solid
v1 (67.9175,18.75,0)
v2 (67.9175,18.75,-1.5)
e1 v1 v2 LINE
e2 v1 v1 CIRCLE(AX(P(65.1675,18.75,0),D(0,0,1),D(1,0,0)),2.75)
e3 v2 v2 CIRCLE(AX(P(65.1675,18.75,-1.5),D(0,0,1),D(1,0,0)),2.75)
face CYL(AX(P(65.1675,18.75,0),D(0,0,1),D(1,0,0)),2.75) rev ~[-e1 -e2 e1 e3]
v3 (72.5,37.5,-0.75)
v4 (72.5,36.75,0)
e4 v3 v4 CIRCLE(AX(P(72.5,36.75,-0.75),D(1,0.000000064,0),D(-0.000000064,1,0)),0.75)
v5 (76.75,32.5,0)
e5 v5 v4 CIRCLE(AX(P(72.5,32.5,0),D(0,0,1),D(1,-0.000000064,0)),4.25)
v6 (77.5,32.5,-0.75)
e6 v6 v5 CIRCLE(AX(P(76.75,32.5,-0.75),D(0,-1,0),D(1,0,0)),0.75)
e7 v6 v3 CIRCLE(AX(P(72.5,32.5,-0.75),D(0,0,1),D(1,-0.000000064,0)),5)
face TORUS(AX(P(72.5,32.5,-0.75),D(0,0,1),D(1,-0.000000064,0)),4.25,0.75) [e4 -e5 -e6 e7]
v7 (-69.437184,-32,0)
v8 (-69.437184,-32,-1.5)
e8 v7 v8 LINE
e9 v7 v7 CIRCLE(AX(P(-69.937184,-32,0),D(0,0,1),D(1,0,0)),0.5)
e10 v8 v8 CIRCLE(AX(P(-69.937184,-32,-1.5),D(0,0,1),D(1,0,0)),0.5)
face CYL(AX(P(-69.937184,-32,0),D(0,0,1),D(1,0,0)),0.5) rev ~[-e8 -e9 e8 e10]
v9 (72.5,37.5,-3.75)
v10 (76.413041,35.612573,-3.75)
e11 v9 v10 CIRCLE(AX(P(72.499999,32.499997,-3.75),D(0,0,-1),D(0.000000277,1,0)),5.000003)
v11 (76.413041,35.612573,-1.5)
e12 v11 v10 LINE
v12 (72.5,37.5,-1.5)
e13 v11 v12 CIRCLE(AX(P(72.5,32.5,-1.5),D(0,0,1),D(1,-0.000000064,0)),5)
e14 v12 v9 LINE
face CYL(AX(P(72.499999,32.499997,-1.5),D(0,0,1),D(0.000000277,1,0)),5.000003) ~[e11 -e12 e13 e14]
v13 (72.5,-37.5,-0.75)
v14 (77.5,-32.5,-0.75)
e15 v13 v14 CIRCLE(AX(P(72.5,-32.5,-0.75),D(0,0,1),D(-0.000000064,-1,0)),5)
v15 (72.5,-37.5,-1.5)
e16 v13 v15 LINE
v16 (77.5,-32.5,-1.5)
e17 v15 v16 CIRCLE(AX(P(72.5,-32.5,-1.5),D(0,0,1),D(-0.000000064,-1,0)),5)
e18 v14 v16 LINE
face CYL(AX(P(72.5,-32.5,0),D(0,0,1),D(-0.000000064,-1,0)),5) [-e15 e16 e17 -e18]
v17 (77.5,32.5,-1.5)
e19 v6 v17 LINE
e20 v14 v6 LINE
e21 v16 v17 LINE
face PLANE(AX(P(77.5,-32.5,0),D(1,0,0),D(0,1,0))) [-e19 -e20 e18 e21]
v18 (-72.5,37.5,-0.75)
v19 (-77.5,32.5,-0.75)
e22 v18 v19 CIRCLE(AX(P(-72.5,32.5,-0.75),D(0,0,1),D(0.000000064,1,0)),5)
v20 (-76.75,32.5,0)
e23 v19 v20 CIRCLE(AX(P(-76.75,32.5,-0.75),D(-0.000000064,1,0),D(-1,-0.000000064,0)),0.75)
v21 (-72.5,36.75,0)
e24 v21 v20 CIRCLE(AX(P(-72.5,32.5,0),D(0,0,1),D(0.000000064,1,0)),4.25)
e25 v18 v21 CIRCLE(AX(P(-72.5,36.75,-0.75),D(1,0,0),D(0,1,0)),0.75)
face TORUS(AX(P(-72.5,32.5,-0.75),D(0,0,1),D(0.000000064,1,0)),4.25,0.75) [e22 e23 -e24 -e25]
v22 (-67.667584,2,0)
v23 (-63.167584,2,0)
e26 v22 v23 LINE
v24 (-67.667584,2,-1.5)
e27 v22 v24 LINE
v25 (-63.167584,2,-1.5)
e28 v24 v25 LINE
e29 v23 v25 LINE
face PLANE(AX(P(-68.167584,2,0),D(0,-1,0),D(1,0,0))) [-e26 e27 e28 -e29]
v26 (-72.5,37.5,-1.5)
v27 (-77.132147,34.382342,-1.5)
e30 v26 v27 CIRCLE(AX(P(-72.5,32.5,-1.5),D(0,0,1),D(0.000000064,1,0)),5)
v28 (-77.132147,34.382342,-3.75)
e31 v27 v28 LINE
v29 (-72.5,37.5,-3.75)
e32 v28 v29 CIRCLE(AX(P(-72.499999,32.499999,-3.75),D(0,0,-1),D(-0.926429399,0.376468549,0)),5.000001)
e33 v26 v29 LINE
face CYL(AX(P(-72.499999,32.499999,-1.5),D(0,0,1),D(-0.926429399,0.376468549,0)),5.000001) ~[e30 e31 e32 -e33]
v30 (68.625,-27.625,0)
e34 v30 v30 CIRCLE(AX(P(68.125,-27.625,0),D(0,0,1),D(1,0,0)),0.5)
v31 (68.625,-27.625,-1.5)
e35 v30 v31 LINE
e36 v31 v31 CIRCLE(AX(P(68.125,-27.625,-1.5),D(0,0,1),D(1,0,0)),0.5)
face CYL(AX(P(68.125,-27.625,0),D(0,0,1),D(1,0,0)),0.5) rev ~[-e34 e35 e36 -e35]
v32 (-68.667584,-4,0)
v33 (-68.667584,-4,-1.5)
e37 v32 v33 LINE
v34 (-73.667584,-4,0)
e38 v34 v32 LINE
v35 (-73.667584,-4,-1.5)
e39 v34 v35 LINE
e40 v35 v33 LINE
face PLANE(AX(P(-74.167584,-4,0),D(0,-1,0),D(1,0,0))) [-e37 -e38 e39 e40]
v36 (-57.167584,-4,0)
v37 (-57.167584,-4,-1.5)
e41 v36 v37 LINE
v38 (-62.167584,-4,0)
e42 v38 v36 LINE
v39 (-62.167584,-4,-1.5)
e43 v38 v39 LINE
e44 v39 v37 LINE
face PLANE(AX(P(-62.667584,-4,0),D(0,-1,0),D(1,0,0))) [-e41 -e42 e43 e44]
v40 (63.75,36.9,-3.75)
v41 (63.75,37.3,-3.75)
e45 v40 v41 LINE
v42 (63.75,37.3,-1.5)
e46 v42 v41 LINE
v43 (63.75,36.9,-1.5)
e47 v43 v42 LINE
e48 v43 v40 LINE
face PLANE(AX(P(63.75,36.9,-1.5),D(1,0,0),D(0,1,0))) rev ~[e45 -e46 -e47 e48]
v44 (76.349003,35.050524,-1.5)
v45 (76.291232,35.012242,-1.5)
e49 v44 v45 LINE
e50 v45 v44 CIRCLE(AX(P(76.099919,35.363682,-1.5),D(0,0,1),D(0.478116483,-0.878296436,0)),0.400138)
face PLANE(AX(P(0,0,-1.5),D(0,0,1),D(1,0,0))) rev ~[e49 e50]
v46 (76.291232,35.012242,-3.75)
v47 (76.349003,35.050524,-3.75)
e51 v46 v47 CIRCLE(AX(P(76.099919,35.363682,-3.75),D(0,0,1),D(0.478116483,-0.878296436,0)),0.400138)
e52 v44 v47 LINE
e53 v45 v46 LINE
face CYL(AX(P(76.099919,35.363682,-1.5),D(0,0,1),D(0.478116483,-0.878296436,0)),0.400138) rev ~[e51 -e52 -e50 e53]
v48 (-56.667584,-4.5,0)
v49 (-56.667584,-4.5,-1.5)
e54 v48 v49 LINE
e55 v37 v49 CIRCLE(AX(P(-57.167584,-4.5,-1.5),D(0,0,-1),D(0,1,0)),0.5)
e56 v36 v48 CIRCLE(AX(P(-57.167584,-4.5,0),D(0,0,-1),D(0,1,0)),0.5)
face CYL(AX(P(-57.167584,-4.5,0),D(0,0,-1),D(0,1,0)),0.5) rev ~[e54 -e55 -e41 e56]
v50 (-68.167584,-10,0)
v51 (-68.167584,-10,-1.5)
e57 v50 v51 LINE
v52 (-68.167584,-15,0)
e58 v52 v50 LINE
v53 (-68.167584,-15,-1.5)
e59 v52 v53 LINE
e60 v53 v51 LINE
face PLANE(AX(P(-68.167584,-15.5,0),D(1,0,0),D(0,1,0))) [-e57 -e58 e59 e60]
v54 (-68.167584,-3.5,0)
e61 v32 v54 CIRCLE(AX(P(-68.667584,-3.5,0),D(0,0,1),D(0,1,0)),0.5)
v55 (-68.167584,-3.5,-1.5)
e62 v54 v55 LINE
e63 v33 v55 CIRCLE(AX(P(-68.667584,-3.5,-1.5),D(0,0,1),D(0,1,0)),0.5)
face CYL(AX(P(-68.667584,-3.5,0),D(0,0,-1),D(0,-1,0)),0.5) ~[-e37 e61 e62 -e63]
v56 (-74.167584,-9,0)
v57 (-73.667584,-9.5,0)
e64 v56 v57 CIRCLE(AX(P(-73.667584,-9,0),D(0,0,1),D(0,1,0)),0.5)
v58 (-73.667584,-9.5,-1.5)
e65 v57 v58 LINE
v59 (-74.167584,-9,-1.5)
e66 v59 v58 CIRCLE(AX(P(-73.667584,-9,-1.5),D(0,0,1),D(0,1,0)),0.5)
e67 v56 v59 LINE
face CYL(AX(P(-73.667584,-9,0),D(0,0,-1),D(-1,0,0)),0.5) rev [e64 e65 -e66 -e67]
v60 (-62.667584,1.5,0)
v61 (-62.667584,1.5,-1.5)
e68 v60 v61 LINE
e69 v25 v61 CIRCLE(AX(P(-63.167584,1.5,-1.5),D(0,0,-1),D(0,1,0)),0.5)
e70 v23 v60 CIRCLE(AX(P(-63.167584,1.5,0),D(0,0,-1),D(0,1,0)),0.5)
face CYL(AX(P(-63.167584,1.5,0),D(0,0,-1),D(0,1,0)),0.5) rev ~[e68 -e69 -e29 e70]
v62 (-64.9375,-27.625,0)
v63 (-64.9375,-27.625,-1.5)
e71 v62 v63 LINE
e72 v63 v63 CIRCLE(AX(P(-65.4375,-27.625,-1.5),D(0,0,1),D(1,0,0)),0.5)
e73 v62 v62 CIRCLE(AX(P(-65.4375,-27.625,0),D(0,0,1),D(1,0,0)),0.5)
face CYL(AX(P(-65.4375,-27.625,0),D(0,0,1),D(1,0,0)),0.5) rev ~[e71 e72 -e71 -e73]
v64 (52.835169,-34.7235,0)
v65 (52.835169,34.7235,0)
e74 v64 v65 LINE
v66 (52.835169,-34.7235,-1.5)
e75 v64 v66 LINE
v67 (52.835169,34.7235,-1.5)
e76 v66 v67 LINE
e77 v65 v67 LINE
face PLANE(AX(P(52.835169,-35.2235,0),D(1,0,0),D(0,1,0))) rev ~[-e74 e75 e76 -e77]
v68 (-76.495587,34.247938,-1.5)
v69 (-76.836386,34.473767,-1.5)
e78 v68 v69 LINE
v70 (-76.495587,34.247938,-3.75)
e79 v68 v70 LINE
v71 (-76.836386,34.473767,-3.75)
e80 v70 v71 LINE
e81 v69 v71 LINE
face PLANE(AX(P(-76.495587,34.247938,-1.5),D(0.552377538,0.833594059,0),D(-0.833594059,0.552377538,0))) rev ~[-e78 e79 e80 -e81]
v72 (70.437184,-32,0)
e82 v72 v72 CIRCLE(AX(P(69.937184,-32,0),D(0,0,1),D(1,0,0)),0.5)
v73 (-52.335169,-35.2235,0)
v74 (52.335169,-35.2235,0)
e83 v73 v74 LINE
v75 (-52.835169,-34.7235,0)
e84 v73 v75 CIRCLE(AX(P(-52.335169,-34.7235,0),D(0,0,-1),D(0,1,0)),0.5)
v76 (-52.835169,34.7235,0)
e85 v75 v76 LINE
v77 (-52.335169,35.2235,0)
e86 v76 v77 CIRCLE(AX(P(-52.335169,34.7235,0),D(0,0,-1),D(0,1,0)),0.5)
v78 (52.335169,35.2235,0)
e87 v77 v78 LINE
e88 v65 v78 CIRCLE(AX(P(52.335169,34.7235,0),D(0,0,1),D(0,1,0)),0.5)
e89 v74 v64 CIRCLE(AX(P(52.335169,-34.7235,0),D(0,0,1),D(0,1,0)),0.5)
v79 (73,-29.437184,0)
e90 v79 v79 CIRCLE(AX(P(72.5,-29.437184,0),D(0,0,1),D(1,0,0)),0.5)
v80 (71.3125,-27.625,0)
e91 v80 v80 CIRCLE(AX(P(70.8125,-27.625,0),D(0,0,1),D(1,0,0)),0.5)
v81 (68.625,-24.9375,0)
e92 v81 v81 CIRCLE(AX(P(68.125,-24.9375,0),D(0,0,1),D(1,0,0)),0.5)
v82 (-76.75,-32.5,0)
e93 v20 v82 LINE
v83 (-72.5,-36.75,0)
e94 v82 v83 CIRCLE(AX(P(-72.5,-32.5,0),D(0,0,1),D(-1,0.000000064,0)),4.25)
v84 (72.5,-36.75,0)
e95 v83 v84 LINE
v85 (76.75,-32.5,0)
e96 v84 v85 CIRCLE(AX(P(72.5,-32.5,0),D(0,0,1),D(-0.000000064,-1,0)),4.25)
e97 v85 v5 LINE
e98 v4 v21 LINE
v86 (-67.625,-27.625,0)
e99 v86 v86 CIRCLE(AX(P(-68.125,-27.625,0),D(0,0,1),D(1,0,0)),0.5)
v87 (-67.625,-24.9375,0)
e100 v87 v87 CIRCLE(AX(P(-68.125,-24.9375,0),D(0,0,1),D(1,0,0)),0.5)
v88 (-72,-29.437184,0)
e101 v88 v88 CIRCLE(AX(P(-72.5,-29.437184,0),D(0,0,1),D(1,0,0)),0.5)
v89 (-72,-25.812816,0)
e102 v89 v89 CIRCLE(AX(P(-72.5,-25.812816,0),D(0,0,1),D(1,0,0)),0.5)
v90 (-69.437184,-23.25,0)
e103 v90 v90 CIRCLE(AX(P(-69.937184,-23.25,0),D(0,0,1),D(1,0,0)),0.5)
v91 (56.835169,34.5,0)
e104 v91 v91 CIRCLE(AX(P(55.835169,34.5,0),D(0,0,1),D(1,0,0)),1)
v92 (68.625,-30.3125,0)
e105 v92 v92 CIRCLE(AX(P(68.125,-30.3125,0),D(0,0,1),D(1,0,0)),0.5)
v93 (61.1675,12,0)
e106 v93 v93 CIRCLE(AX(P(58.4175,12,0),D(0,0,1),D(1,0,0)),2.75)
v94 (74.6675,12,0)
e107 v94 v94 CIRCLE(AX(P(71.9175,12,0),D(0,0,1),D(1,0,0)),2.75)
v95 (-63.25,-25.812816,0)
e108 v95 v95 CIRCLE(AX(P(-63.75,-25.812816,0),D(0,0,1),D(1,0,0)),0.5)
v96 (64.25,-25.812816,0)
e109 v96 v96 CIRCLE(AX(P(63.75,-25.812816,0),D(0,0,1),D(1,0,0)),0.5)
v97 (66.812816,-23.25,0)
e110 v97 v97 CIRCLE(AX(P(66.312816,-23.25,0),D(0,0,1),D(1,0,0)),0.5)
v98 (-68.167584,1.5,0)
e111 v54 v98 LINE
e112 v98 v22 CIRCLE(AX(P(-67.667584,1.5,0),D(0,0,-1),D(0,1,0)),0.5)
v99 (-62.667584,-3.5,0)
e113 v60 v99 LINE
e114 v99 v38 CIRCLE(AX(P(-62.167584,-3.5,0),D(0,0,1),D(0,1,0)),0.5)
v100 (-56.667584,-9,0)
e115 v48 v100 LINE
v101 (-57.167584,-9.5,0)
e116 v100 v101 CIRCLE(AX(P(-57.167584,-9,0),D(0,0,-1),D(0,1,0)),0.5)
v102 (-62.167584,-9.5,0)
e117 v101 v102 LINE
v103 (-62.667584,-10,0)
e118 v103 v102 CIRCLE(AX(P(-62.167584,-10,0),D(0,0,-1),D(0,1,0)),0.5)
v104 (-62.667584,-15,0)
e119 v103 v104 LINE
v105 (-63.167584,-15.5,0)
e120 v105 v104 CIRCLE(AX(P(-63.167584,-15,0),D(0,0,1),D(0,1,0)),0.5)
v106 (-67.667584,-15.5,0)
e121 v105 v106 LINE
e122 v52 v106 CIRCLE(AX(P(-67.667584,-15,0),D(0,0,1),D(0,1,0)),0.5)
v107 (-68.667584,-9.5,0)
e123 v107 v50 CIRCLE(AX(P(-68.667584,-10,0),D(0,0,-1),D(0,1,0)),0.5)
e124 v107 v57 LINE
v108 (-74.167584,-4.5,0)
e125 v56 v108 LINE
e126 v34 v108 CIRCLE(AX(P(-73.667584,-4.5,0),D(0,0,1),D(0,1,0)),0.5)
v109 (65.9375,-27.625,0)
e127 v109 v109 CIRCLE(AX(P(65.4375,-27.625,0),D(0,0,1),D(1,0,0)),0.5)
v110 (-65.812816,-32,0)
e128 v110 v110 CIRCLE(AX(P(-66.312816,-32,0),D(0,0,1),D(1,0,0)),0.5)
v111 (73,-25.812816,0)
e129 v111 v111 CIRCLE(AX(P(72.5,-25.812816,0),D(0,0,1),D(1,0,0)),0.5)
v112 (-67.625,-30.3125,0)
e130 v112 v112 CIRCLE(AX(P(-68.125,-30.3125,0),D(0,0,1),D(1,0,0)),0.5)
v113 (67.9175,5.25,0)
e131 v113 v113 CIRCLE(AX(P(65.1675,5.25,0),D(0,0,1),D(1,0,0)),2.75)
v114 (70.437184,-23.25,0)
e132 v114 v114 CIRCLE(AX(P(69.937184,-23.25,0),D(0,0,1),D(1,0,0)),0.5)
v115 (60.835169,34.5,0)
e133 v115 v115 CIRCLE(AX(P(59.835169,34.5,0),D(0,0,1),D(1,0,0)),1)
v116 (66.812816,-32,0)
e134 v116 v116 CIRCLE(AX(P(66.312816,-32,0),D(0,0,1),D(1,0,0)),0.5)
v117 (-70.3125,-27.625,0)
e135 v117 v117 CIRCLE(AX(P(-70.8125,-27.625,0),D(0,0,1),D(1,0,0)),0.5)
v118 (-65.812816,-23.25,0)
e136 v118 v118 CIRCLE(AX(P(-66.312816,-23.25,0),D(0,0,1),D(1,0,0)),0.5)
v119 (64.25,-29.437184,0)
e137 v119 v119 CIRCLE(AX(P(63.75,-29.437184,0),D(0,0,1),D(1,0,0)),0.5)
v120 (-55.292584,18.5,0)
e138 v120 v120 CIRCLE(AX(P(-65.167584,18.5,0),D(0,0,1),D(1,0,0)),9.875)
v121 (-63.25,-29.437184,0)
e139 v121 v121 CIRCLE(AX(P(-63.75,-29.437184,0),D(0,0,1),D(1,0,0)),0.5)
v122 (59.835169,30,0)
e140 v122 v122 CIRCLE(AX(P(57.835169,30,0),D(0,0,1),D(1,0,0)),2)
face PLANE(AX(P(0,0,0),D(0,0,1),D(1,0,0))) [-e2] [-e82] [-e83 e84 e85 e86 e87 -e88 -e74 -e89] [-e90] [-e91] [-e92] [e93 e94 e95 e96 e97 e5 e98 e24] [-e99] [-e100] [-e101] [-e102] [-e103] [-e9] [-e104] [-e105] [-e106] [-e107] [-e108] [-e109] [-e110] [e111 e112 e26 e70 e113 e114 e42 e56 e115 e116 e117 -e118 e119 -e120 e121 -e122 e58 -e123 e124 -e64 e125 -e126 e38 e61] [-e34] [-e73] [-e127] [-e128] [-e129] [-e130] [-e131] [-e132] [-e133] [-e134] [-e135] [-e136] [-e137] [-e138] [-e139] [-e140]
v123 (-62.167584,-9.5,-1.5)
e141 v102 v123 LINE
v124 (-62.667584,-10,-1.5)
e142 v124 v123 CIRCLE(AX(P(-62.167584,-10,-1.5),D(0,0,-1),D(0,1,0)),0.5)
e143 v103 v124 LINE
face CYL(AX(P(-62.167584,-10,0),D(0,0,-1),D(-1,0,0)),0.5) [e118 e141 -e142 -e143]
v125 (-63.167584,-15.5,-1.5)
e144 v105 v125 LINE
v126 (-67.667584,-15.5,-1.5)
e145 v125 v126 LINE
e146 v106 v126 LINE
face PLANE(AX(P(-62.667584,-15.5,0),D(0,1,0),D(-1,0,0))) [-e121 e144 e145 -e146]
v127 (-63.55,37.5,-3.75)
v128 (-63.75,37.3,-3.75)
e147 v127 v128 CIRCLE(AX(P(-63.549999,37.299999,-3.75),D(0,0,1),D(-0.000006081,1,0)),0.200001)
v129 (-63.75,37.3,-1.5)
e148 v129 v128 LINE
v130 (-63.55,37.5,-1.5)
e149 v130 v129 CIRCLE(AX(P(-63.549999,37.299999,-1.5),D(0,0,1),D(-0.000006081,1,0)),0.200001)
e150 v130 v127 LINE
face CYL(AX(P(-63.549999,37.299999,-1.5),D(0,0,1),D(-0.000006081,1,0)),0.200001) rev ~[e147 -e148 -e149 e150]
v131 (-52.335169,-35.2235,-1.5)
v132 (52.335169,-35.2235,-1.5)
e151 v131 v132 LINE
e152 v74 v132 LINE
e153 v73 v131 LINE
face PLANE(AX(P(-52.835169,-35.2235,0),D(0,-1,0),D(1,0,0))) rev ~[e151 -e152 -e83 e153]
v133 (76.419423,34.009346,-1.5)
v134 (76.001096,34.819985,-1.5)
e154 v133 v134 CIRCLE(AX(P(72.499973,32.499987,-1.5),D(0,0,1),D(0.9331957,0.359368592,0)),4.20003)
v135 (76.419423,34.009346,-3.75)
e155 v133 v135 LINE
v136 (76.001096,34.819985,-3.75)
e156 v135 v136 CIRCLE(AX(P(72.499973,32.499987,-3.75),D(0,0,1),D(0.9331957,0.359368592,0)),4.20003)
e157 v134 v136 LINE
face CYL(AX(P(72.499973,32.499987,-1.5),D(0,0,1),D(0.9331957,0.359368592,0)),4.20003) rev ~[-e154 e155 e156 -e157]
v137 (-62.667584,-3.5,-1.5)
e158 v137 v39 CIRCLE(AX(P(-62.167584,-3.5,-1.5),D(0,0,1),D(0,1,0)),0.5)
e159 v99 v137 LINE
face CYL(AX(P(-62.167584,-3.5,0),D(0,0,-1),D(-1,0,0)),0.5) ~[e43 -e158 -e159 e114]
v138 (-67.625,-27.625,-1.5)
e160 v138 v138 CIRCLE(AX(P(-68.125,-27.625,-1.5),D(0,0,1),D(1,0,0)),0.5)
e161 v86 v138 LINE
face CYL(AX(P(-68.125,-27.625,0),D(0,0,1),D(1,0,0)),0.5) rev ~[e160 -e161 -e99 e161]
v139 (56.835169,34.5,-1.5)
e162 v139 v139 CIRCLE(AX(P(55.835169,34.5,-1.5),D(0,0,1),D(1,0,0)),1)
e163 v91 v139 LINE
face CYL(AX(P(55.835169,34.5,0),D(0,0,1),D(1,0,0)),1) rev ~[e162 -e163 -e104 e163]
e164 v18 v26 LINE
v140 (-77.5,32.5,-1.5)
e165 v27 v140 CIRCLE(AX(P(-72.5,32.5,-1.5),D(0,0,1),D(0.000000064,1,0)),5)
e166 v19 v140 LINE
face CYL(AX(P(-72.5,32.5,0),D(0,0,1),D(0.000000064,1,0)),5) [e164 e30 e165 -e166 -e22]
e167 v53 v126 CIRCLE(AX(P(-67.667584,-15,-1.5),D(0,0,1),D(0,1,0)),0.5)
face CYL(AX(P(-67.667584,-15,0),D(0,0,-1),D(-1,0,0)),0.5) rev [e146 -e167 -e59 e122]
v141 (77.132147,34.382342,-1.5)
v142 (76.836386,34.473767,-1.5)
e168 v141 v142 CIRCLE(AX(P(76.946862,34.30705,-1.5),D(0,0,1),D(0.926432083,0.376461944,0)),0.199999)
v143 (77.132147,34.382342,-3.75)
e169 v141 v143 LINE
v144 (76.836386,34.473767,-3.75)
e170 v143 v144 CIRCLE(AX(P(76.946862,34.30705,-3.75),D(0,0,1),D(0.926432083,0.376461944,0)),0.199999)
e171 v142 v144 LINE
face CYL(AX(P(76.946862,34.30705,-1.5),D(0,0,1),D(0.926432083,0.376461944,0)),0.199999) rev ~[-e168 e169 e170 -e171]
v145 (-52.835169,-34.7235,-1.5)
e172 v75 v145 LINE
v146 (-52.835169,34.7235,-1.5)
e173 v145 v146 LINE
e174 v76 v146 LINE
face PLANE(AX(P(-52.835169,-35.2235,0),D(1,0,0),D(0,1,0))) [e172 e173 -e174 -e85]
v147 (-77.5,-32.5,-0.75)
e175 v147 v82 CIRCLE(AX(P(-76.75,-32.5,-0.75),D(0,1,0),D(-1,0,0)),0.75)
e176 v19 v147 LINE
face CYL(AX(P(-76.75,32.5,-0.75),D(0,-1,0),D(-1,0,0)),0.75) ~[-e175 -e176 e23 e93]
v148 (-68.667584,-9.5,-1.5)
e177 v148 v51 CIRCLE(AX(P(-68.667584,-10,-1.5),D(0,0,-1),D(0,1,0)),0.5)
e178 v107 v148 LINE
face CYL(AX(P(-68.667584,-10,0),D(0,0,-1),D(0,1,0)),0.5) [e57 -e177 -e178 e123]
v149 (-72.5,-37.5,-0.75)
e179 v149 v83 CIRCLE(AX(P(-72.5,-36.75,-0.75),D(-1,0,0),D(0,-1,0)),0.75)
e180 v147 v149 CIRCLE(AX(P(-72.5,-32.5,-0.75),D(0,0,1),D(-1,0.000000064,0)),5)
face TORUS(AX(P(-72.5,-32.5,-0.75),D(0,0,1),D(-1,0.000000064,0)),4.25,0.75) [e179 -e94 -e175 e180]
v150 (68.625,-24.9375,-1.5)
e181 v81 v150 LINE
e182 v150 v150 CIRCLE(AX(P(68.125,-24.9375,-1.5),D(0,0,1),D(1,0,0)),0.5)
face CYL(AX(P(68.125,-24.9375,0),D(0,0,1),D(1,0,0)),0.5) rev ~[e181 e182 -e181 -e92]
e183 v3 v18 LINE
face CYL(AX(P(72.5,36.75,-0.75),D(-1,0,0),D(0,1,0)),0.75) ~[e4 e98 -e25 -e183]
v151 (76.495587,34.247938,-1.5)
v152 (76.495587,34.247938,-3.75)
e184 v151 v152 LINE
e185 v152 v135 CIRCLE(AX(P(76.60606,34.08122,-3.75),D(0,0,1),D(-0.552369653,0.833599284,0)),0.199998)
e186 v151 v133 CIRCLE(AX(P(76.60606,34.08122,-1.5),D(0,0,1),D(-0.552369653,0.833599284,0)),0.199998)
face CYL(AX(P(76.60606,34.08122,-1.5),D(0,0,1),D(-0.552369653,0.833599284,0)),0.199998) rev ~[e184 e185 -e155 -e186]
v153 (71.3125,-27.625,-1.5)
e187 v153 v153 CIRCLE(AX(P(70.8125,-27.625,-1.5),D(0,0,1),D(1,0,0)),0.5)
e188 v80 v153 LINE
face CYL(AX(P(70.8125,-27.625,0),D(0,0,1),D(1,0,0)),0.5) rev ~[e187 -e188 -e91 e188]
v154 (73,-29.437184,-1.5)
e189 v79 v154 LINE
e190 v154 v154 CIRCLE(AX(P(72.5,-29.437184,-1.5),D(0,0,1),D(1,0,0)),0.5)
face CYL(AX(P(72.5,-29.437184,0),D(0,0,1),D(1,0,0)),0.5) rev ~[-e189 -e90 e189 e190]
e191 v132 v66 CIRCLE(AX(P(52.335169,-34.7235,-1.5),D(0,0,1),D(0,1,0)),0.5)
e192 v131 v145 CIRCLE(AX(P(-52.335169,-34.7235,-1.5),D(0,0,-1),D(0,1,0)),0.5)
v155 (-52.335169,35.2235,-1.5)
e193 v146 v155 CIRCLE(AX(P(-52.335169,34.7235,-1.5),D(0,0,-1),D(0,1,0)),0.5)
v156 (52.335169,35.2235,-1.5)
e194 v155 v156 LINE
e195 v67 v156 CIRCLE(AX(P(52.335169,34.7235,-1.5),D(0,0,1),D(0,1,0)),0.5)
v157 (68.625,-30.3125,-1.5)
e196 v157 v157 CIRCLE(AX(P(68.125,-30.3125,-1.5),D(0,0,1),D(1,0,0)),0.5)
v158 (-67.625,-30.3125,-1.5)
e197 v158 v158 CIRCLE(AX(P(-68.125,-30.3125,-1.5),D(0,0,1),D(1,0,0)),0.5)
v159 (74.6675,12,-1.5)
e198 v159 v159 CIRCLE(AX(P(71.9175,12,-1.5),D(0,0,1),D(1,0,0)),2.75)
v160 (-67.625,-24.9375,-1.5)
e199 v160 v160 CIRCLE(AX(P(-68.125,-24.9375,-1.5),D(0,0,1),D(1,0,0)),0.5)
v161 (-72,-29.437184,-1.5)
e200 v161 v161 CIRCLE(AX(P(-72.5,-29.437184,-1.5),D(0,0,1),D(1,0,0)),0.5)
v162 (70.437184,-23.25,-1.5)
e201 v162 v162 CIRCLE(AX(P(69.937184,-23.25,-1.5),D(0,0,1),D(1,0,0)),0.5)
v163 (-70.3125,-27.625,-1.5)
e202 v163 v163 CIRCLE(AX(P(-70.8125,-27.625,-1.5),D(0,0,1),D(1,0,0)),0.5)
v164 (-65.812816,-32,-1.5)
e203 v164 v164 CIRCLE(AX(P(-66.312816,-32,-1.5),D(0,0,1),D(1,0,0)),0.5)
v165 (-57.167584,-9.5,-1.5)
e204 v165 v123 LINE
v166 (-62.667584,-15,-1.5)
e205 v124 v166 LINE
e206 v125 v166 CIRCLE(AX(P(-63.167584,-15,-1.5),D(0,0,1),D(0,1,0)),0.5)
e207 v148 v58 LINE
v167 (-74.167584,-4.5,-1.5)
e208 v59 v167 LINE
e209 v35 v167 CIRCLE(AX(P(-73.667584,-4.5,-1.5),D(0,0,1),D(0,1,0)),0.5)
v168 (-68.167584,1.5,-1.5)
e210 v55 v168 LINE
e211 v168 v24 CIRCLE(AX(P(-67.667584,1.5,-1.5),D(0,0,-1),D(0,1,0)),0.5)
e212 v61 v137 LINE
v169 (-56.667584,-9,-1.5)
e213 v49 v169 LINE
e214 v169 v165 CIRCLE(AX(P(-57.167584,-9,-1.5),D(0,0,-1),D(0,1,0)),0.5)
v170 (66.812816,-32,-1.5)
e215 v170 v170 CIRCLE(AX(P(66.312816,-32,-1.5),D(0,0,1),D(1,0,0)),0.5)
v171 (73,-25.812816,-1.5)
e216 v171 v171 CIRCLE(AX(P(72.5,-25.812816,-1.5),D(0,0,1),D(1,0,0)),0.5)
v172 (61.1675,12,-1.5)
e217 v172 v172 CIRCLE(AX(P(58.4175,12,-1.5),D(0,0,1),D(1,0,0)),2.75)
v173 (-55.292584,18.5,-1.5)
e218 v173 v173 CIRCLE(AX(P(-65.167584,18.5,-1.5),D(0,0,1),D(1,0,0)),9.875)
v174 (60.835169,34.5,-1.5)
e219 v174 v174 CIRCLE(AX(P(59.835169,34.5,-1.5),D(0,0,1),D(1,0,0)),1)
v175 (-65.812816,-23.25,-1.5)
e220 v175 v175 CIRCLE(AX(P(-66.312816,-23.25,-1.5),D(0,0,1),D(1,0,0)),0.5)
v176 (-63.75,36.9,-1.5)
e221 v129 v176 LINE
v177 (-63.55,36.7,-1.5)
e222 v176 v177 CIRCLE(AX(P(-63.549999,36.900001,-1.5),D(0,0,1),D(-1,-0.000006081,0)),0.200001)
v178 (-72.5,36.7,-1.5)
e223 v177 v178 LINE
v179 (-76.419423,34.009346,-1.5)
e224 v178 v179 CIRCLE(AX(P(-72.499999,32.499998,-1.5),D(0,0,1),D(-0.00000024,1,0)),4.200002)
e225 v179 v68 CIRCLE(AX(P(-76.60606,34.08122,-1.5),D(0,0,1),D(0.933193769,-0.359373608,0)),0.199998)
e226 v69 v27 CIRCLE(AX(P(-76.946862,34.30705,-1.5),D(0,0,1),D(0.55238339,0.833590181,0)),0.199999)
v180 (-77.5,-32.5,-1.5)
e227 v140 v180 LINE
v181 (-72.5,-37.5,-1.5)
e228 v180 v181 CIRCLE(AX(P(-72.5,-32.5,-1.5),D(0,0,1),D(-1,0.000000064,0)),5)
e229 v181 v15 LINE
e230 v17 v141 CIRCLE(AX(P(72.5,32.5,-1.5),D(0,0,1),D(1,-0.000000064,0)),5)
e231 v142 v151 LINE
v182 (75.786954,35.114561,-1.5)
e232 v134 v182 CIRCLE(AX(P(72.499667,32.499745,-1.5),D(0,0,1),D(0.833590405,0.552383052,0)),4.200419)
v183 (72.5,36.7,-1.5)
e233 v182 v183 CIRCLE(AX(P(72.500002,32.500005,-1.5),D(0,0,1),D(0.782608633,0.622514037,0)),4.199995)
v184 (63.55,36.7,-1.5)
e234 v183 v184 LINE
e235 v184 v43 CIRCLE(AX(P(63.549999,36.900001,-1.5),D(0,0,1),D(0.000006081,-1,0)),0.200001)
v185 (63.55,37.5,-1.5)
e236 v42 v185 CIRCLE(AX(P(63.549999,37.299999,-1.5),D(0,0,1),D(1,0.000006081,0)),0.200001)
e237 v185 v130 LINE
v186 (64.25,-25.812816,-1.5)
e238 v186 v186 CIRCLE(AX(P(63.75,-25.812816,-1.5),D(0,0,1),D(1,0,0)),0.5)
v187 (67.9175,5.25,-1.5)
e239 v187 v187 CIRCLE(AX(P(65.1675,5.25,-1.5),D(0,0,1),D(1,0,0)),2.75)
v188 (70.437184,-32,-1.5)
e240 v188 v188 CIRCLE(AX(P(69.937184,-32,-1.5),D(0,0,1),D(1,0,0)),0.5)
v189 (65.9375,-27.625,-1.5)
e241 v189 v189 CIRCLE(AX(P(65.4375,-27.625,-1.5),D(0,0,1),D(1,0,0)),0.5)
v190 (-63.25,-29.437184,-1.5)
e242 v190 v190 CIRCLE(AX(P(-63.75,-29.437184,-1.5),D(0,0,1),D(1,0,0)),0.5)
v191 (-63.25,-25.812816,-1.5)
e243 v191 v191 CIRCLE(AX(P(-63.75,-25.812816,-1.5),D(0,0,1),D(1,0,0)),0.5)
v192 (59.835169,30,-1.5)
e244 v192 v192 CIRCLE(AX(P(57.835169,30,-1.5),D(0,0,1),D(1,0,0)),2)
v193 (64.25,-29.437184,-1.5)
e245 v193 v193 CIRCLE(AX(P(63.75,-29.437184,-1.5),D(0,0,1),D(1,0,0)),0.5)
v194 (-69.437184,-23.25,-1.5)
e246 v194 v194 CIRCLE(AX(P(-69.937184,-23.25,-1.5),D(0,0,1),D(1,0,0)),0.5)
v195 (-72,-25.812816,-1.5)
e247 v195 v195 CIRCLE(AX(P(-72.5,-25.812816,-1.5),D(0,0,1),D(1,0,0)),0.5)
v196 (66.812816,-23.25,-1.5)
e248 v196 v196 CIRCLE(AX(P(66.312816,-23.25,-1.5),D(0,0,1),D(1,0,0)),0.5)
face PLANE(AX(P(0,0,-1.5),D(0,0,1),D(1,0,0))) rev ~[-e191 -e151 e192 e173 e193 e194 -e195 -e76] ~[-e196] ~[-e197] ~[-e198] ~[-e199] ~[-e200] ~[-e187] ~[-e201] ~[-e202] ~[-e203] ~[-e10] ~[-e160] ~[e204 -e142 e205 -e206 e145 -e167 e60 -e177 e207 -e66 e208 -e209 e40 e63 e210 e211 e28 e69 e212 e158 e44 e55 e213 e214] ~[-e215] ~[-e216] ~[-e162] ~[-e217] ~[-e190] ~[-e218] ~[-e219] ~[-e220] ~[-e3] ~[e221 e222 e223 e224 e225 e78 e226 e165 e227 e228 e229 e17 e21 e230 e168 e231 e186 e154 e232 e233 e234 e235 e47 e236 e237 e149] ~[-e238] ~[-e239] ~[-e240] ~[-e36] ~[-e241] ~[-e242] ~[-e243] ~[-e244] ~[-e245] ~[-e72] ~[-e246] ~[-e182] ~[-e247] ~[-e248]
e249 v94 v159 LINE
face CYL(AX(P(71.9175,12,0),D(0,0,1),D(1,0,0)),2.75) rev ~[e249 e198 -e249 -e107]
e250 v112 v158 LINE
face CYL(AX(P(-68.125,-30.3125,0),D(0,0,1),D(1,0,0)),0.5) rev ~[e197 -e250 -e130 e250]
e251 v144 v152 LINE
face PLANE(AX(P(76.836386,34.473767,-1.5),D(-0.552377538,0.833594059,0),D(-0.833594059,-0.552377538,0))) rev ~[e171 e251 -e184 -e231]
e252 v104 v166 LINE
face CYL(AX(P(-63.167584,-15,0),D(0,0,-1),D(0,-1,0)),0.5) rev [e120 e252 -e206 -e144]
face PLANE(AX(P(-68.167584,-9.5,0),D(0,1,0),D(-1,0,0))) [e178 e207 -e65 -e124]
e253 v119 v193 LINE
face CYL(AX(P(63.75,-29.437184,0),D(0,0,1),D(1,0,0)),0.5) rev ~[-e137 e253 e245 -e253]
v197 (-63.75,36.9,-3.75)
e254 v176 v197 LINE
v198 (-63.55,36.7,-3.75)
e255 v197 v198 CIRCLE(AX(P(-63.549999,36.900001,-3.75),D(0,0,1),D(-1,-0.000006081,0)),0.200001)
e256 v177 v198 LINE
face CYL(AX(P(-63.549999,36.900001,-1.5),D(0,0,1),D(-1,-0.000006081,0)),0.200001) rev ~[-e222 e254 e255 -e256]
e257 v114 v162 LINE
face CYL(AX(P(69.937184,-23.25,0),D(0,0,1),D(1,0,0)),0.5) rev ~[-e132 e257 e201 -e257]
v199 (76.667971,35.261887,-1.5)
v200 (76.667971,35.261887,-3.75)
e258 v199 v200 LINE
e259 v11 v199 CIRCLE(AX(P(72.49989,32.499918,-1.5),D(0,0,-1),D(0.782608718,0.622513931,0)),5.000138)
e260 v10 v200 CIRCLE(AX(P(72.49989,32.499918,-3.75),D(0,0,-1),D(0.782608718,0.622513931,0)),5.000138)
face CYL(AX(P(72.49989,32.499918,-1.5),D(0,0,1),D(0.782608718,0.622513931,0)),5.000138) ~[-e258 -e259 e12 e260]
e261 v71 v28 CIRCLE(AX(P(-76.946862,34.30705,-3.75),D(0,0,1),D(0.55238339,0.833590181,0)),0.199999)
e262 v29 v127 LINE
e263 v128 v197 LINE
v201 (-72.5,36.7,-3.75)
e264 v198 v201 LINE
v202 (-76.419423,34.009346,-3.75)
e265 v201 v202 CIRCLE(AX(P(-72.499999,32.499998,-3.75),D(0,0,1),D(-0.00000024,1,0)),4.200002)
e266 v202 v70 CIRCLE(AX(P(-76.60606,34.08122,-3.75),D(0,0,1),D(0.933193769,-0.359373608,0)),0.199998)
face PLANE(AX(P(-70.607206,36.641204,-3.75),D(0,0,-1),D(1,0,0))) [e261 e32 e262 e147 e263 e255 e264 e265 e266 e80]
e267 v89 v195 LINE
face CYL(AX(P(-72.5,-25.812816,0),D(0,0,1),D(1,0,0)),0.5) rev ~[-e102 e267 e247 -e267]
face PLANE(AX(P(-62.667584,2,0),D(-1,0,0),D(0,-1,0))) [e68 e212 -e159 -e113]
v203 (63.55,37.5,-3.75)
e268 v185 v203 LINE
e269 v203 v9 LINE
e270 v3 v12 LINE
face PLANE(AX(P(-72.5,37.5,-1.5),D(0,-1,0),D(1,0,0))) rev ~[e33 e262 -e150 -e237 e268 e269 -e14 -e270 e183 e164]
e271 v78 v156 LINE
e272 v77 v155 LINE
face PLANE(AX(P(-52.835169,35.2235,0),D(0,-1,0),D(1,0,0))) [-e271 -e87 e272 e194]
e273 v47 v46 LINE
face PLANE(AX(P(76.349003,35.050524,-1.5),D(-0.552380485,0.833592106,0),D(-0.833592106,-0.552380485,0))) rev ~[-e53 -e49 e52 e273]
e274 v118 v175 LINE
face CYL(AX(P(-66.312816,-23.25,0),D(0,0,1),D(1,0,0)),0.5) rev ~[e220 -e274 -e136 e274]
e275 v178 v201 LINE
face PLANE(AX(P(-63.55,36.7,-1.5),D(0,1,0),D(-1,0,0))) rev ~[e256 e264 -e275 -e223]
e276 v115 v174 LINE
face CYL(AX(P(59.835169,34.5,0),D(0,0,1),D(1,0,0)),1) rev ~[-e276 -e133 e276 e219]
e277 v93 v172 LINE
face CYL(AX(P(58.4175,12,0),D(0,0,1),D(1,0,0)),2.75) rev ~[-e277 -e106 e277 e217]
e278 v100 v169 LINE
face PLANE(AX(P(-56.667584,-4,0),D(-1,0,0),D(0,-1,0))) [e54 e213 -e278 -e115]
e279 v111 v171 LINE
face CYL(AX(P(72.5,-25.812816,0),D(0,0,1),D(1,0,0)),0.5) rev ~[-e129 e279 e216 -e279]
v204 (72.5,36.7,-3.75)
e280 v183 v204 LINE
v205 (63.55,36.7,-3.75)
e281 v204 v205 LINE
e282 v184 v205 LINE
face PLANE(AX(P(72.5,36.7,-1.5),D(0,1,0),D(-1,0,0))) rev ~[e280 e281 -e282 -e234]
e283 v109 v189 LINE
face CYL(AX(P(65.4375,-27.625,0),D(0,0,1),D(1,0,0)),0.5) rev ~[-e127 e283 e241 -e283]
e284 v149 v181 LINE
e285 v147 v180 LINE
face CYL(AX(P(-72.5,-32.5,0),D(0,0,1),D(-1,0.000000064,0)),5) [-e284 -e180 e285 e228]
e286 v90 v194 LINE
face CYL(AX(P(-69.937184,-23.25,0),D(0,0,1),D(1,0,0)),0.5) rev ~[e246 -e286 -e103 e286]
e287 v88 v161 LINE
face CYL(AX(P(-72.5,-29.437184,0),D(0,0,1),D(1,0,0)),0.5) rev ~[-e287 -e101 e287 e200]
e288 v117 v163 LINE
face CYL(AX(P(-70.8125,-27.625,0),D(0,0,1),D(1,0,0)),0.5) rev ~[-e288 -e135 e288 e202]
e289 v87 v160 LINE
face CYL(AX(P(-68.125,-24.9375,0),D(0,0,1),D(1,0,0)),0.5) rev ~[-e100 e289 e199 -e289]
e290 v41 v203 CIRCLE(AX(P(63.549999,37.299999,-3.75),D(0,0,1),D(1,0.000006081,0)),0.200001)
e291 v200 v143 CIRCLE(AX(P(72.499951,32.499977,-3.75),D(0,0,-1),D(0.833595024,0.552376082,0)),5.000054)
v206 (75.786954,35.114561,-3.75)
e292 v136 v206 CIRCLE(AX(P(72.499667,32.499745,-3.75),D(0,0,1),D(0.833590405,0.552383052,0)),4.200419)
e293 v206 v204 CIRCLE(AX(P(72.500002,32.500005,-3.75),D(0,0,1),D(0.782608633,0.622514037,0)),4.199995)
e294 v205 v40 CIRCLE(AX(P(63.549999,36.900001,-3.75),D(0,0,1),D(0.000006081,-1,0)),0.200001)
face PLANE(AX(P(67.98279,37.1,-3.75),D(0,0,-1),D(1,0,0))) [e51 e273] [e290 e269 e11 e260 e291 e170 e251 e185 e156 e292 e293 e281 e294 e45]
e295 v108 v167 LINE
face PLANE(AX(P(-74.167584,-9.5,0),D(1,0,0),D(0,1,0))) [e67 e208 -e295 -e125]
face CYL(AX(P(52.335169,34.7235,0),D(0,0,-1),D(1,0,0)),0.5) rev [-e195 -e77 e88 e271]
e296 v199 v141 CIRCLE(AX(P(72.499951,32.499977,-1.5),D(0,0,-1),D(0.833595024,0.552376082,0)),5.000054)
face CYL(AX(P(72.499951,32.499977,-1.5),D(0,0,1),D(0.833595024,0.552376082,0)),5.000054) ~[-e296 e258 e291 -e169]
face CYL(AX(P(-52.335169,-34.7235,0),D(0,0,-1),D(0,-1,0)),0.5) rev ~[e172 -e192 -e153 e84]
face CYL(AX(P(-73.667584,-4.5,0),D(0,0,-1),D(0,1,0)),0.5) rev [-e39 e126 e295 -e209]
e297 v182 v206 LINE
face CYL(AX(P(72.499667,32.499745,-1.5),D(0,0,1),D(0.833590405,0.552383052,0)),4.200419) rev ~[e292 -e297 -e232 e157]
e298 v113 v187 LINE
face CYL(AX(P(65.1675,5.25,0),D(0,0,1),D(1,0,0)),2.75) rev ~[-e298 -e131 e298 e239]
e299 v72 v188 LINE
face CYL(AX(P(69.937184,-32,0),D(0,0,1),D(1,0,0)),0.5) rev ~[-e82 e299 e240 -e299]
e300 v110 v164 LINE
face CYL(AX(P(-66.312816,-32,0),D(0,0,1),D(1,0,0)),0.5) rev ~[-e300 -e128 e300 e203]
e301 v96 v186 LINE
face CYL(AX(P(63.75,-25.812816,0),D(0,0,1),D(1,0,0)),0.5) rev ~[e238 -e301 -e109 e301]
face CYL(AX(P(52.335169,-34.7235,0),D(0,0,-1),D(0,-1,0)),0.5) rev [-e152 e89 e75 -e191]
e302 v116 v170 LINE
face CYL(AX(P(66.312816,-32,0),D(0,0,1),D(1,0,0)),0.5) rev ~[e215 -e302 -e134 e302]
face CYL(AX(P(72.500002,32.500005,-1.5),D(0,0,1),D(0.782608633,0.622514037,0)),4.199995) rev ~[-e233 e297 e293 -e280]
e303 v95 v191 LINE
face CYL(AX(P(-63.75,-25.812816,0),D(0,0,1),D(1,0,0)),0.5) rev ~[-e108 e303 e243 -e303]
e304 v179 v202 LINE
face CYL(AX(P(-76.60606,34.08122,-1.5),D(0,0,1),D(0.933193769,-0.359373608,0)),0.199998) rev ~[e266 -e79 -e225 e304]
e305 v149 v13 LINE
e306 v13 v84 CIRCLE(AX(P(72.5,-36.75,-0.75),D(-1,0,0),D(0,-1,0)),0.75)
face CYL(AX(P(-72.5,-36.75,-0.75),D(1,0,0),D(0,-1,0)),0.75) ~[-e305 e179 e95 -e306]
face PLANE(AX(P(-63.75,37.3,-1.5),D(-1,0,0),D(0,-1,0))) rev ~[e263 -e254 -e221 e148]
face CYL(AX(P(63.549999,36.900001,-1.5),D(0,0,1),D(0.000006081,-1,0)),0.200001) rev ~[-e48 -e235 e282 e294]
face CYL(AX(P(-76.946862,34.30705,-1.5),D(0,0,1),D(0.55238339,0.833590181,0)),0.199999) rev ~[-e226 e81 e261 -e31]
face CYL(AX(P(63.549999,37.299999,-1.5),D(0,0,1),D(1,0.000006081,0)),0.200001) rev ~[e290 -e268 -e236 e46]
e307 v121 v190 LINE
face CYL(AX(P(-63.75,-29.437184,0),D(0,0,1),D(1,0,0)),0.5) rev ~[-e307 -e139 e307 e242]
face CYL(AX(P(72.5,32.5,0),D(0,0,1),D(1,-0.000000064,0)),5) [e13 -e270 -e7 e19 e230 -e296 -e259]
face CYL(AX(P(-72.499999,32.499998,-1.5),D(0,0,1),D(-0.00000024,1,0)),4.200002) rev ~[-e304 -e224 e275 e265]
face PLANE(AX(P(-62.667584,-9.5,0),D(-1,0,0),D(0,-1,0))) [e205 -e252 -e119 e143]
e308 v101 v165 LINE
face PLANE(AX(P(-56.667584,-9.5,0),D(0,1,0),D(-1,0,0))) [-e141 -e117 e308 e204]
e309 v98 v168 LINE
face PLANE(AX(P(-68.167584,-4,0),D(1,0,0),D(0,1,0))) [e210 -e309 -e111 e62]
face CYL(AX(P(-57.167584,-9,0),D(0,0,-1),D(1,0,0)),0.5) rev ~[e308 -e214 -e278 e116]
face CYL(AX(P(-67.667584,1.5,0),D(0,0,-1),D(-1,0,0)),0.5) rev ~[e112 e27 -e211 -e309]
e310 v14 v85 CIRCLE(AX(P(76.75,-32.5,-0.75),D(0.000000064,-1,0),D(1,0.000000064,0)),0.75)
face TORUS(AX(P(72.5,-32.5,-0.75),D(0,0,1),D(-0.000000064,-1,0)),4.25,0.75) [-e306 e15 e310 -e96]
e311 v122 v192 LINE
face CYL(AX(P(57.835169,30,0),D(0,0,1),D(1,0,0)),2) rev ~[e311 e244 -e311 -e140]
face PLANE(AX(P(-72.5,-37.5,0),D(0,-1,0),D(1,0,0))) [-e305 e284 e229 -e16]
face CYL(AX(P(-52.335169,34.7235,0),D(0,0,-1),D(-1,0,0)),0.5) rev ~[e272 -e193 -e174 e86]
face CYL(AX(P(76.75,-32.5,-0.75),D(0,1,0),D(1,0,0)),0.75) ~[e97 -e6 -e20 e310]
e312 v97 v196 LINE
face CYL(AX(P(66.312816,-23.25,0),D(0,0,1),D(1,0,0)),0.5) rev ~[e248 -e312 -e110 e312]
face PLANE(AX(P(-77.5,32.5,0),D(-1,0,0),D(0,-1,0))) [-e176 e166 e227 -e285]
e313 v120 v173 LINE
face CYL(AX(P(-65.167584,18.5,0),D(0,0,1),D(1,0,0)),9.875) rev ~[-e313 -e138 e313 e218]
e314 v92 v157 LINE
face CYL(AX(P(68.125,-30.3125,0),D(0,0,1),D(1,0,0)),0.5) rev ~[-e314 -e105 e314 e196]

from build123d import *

# Parameters (mm, degrees)
F0_R     = 0.5
F0_R_2   = 9.875
F0_W     = 105.670338
F0_H     = 70.447
F0_R_3   = 2.75
F0_R_4   = 2
F0_R_5   = 1
F1_DEPTH = 1.5
F2_R     = 0.75
F3_R     = 0.5
F4_R     = 0.5
F6_DEPTH = 2.25


with BuildPart() as f1:
    # F0 (on Top) → F1 (new body)
    with BuildSketch(Plane.XY):
        with BuildLine():
            ThreePointArc((77.5, 32.5), (76.035534, 36.035534), (72.5, 37.5))
            Line((72.5, 37.5), (-72.5, 37.5))
            ThreePointArc((-72.5, 37.5), (-76.035534, 36.035534), (-77.5, 32.5))
            Line((-77.5, 32.5), (-77.5, -32.5))
            ThreePointArc((-77.5, -32.5), (-76.035534, -36.035534), (-72.5, -37.5))
            Line((-72.5, -37.5), (72.5, -37.5))
            ThreePointArc((72.5, -37.5), (76.035534, -36.035534), (77.5, -32.5))
            Line((77.5, -32.5), (77.5, 32.5))
        make_face()
        with Locations((-69.937184, -32)):
            Circle(F0_R, mode=Mode.SUBTRACT)
        with Locations((-72.5, -29.437184)):
            Circle(F0_R, mode=Mode.SUBTRACT)
        with Locations((-68.125, -30.3125)):
            Circle(F0_R, mode=Mode.SUBTRACT)
        with Locations((-66.312816, -32)):
            Circle(F0_R, mode=Mode.SUBTRACT)
        with Locations((-63.75, -29.437184)):
            Circle(F0_R, mode=Mode.SUBTRACT)
        with Locations((-70.8125, -27.625)):
            Circle(F0_R, mode=Mode.SUBTRACT)
        with Locations((-68.125, -27.625)):
            Circle(F0_R, mode=Mode.SUBTRACT)
        with Locations((-72.5, -25.812816)):
            Circle(F0_R, mode=Mode.SUBTRACT)
        with Locations((-68.125, -24.9375)):
            Circle(F0_R, mode=Mode.SUBTRACT)
        with Locations((-65.4375, -27.625)):
            Circle(F0_R, mode=Mode.SUBTRACT)
        with Locations((-63.75, -25.812816)):
            Circle(F0_R, mode=Mode.SUBTRACT)
        with Locations((-69.937184, -23.25)):
            Circle(F0_R, mode=Mode.SUBTRACT)
        with Locations((-66.312816, -23.25)):
            Circle(F0_R, mode=Mode.SUBTRACT)
        Polygon((-68.167584, -4), (-68.167584, 2), (-62.667584, 2), (-62.667584, -4), (-56.667584, -4), (-56.667584, -9.5), (-62.667584, -9.5), (-62.667584, -15.5), (-68.167584, -15.5), (-68.167584, -9.5), (-74.167584, -9.5), (-74.167584, -4), align=None, mode=Mode.SUBTRACT)
        with Locations((66.312816, -32)):
            Circle(F0_R, mode=Mode.SUBTRACT)
        with Locations((63.75, -29.437184)):
            Circle(F0_R, mode=Mode.SUBTRACT)
        with Locations((69.937184, -32)):
            Circle(F0_R, mode=Mode.SUBTRACT)
        with Locations((68.125, -30.3125)):
            Circle(F0_R, mode=Mode.SUBTRACT)
        with Locations((72.5, -29.437184)):
            Circle(F0_R, mode=Mode.SUBTRACT)
        with Locations((65.4375, -27.625)):
            Circle(F0_R, mode=Mode.SUBTRACT)
        with Locations((63.75, -25.812816)):
            Circle(F0_R, mode=Mode.SUBTRACT)
        with Locations((68.125, -27.625)):
            Circle(F0_R, mode=Mode.SUBTRACT)
        with Locations((70.8125, -27.625)):
            Circle(F0_R, mode=Mode.SUBTRACT)
        with Locations((72.5, -25.812816)):
            Circle(F0_R, mode=Mode.SUBTRACT)
        with Locations((68.125, -24.9375)):
            Circle(F0_R, mode=Mode.SUBTRACT)
        with Locations((66.312816, -23.25)):
            Circle(F0_R, mode=Mode.SUBTRACT)
        with Locations((69.937184, -23.25)):
            Circle(F0_R, mode=Mode.SUBTRACT)
        with Locations((-65.167584, 18.5)):
            Circle(F0_R_2, mode=Mode.SUBTRACT)
        Rectangle(F0_W, F0_H, mode=Mode.SUBTRACT)
        with Locations((65.1675, 5.25)):
            Circle(F0_R_3, mode=Mode.SUBTRACT)
        with Locations((58.4175, 12)):
            Circle(F0_R_3, mode=Mode.SUBTRACT)
        with Locations((71.9175, 12)):
            Circle(F0_R_3, mode=Mode.SUBTRACT)
        with Locations((65.1675, 18.75)):
            Circle(F0_R_3, mode=Mode.SUBTRACT)
        with Locations((57.835169, 30)):
            Circle(F0_R_4, mode=Mode.SUBTRACT)
        with Locations((55.835169, 34.5)):
            Circle(F0_R_5, mode=Mode.SUBTRACT)
        with Locations((59.835169, 34.5)):
            Circle(F0_R_5, mode=Mode.SUBTRACT)
    extrude(amount=-F1_DEPTH)

    # F2
    f2_edges = [f1.edges().sort_by_distance(p)[0] for p in [
        (0, -37.5, 0),
    ]]
    fillet(f2_edges, radius=F2_R)

    # F3
    f3_edges = [f1.edges().sort_by_distance(p)[0] for p in [
        (-52.835169, 35.2235, -0.75),
        (52.835169, 35.2235, -0.75),
        (-52.835169, -35.2235, -0.75),
        (52.835169, -35.2235, -0.75),
    ]]
    fillet(f3_edges, radius=F3_R)

    # F4
    f4_edges = [f1.edges().sort_by_distance(p)[0] for p in [
        (-68.167584, 2, -0.75),
        (-68.167584, -4, -0.75),
        (-74.167584, -4, -0.75),
        (-62.667584, -4, -0.75),
        (-68.167584, -9.5, -0.75),
        (-62.667584, -15.5, -0.75),
        (-62.667584, -9.5, -0.75),
        (-56.667584, -9.5, -0.75),
        (-56.667584, -4, -0.75),
        (-62.667584, 2, -0.75),
        (-74.167584, -9.5, -0.75),
        (-68.167584, -15.5, -0.75),
    ]]
    fillet(f4_edges, radius=F4_R)

    # F5 (on face) → F6 (join)
    with BuildSketch(Plane(origin=(0, 0, -1.5), x_dir=(1, 0, 0), z_dir=(0, 0, -1))):
        with BuildLine():
            Line((-63.75, -37.5), (-63.55, -37.5))
            ThreePointArc((-63.55, -37.5), (-63.691421, -37.441421), (-63.75, -37.3))
            Line((-63.75, -37.3), (-63.75, -36.9))
            ThreePointArc((-63.75, -36.9), (-63.691421, -36.758579), (-63.55, -36.7))
            Line((-63.55, -36.7), (-63.75, -36.7))
            Line((-63.75, -36.7), (-72.5, -36.7))
            ThreePointArc((-72.5, -36.7), (-74.877051, -35.962604), (-76.419423, -34.009346))
            ThreePointArc((-76.419423, -34.009346), (-76.415534, -34.14204), (-76.495587, -34.247938))
            Line((-76.495587, -34.247938), (-76.836386, -34.473767))
            ThreePointArc((-76.836386, -34.473767), (-77.005927, -34.498128), (-77.132147, -34.382342))
            ThreePointArc((-77.132147, -34.382342), (-75.291799, -36.647994), (-72.5, -37.5))
            Line((-72.5, -37.5), (-63.75, -37.5))
        make_face()
        with BuildLine():
            Line((63.75, -37.5), (72.5, -37.5))
            Line((72.5, -37.5), (72.5, -36.7))
            Line((72.5, -36.7), (63.75, -36.7))
            Line((63.75, -36.7), (63.55, -36.7))
            ThreePointArc((63.55, -36.7), (63.691421, -36.758579), (63.75, -36.9))
            Line((63.75, -36.9), (63.75, -37.3))
            ThreePointArc((63.75, -37.3), (63.691421, -37.441421), (63.55, -37.5))
            Line((63.55, -37.5), (63.75, -37.5))
        make_face()
        with BuildLine():
            Line((72.5, -36.7), (72.5, -37.5))
            ThreePointArc((72.5, -37.5), (74.672226, -37.003491), (76.413041, -35.612573))
            Line((76.413041, -35.612573), (75.786954, -35.114561))
            ThreePointArc((75.786954, -35.114561), (74.32467, -36.282933), (72.5, -36.7))
        make_face()
        with BuildLine():
            Line((75.786954, -35.114561), (76.413041, -35.612573))
            ThreePointArc((76.413041, -35.612573), (76.497426, -35.318286), (76.349003, -35.050524))
            Line((76.349003, -35.050524), (76.291232, -35.012242))
            ThreePointArc((76.291232, -35.012242), (76.020457, -34.971555), (75.786954, -35.114561))
        make_face()
        with BuildLine():
            ThreePointArc((76.349003, -35.050524), (76.497426, -35.318286), (76.413041, -35.612573))
            ThreePointArc((76.413041, -35.612573), (76.544309, -35.439994), (76.667971, -35.261887))
            Line((76.667971, -35.261887), (76.349003, -35.050524))
        make_face()
        with BuildLine():
            ThreePointArc((76.291232, -35.012242), (76.320948, -35.03013), (76.349003, -35.050524))
            Line((76.349003, -35.050524), (76.667971, -35.261887))
            ThreePointArc((76.667971, -35.261887), (76.921981, -34.833684), (77.132147, -34.382342))
            ThreePointArc((77.132147, -34.382342), (77.005927, -34.498128), (76.836386, -34.473767))
            Line((76.836386, -34.473767), (76.495587, -34.247938))
            ThreePointArc((76.495587, -34.247938), (76.415534, -34.14204), (76.419423, -34.009346))
            ThreePointArc((76.419423, -34.009346), (76.232333, -34.426056), (76.001096, -34.819985))
            Line((76.001096, -34.819985), (76.291232, -35.012242))
        make_face()
        with BuildLine():
            ThreePointArc((76.001096, -34.819985), (75.897219, -34.969595), (75.786954, -35.114561))
            ThreePointArc((75.786954, -35.114561), (76.020457, -34.971555), (76.291232, -35.012242))
            Line((76.291232, -35.012242), (76.001096, -34.819985))
        make_face()
    extrude(amount=F6_DEPTH)


solid = f1.part
